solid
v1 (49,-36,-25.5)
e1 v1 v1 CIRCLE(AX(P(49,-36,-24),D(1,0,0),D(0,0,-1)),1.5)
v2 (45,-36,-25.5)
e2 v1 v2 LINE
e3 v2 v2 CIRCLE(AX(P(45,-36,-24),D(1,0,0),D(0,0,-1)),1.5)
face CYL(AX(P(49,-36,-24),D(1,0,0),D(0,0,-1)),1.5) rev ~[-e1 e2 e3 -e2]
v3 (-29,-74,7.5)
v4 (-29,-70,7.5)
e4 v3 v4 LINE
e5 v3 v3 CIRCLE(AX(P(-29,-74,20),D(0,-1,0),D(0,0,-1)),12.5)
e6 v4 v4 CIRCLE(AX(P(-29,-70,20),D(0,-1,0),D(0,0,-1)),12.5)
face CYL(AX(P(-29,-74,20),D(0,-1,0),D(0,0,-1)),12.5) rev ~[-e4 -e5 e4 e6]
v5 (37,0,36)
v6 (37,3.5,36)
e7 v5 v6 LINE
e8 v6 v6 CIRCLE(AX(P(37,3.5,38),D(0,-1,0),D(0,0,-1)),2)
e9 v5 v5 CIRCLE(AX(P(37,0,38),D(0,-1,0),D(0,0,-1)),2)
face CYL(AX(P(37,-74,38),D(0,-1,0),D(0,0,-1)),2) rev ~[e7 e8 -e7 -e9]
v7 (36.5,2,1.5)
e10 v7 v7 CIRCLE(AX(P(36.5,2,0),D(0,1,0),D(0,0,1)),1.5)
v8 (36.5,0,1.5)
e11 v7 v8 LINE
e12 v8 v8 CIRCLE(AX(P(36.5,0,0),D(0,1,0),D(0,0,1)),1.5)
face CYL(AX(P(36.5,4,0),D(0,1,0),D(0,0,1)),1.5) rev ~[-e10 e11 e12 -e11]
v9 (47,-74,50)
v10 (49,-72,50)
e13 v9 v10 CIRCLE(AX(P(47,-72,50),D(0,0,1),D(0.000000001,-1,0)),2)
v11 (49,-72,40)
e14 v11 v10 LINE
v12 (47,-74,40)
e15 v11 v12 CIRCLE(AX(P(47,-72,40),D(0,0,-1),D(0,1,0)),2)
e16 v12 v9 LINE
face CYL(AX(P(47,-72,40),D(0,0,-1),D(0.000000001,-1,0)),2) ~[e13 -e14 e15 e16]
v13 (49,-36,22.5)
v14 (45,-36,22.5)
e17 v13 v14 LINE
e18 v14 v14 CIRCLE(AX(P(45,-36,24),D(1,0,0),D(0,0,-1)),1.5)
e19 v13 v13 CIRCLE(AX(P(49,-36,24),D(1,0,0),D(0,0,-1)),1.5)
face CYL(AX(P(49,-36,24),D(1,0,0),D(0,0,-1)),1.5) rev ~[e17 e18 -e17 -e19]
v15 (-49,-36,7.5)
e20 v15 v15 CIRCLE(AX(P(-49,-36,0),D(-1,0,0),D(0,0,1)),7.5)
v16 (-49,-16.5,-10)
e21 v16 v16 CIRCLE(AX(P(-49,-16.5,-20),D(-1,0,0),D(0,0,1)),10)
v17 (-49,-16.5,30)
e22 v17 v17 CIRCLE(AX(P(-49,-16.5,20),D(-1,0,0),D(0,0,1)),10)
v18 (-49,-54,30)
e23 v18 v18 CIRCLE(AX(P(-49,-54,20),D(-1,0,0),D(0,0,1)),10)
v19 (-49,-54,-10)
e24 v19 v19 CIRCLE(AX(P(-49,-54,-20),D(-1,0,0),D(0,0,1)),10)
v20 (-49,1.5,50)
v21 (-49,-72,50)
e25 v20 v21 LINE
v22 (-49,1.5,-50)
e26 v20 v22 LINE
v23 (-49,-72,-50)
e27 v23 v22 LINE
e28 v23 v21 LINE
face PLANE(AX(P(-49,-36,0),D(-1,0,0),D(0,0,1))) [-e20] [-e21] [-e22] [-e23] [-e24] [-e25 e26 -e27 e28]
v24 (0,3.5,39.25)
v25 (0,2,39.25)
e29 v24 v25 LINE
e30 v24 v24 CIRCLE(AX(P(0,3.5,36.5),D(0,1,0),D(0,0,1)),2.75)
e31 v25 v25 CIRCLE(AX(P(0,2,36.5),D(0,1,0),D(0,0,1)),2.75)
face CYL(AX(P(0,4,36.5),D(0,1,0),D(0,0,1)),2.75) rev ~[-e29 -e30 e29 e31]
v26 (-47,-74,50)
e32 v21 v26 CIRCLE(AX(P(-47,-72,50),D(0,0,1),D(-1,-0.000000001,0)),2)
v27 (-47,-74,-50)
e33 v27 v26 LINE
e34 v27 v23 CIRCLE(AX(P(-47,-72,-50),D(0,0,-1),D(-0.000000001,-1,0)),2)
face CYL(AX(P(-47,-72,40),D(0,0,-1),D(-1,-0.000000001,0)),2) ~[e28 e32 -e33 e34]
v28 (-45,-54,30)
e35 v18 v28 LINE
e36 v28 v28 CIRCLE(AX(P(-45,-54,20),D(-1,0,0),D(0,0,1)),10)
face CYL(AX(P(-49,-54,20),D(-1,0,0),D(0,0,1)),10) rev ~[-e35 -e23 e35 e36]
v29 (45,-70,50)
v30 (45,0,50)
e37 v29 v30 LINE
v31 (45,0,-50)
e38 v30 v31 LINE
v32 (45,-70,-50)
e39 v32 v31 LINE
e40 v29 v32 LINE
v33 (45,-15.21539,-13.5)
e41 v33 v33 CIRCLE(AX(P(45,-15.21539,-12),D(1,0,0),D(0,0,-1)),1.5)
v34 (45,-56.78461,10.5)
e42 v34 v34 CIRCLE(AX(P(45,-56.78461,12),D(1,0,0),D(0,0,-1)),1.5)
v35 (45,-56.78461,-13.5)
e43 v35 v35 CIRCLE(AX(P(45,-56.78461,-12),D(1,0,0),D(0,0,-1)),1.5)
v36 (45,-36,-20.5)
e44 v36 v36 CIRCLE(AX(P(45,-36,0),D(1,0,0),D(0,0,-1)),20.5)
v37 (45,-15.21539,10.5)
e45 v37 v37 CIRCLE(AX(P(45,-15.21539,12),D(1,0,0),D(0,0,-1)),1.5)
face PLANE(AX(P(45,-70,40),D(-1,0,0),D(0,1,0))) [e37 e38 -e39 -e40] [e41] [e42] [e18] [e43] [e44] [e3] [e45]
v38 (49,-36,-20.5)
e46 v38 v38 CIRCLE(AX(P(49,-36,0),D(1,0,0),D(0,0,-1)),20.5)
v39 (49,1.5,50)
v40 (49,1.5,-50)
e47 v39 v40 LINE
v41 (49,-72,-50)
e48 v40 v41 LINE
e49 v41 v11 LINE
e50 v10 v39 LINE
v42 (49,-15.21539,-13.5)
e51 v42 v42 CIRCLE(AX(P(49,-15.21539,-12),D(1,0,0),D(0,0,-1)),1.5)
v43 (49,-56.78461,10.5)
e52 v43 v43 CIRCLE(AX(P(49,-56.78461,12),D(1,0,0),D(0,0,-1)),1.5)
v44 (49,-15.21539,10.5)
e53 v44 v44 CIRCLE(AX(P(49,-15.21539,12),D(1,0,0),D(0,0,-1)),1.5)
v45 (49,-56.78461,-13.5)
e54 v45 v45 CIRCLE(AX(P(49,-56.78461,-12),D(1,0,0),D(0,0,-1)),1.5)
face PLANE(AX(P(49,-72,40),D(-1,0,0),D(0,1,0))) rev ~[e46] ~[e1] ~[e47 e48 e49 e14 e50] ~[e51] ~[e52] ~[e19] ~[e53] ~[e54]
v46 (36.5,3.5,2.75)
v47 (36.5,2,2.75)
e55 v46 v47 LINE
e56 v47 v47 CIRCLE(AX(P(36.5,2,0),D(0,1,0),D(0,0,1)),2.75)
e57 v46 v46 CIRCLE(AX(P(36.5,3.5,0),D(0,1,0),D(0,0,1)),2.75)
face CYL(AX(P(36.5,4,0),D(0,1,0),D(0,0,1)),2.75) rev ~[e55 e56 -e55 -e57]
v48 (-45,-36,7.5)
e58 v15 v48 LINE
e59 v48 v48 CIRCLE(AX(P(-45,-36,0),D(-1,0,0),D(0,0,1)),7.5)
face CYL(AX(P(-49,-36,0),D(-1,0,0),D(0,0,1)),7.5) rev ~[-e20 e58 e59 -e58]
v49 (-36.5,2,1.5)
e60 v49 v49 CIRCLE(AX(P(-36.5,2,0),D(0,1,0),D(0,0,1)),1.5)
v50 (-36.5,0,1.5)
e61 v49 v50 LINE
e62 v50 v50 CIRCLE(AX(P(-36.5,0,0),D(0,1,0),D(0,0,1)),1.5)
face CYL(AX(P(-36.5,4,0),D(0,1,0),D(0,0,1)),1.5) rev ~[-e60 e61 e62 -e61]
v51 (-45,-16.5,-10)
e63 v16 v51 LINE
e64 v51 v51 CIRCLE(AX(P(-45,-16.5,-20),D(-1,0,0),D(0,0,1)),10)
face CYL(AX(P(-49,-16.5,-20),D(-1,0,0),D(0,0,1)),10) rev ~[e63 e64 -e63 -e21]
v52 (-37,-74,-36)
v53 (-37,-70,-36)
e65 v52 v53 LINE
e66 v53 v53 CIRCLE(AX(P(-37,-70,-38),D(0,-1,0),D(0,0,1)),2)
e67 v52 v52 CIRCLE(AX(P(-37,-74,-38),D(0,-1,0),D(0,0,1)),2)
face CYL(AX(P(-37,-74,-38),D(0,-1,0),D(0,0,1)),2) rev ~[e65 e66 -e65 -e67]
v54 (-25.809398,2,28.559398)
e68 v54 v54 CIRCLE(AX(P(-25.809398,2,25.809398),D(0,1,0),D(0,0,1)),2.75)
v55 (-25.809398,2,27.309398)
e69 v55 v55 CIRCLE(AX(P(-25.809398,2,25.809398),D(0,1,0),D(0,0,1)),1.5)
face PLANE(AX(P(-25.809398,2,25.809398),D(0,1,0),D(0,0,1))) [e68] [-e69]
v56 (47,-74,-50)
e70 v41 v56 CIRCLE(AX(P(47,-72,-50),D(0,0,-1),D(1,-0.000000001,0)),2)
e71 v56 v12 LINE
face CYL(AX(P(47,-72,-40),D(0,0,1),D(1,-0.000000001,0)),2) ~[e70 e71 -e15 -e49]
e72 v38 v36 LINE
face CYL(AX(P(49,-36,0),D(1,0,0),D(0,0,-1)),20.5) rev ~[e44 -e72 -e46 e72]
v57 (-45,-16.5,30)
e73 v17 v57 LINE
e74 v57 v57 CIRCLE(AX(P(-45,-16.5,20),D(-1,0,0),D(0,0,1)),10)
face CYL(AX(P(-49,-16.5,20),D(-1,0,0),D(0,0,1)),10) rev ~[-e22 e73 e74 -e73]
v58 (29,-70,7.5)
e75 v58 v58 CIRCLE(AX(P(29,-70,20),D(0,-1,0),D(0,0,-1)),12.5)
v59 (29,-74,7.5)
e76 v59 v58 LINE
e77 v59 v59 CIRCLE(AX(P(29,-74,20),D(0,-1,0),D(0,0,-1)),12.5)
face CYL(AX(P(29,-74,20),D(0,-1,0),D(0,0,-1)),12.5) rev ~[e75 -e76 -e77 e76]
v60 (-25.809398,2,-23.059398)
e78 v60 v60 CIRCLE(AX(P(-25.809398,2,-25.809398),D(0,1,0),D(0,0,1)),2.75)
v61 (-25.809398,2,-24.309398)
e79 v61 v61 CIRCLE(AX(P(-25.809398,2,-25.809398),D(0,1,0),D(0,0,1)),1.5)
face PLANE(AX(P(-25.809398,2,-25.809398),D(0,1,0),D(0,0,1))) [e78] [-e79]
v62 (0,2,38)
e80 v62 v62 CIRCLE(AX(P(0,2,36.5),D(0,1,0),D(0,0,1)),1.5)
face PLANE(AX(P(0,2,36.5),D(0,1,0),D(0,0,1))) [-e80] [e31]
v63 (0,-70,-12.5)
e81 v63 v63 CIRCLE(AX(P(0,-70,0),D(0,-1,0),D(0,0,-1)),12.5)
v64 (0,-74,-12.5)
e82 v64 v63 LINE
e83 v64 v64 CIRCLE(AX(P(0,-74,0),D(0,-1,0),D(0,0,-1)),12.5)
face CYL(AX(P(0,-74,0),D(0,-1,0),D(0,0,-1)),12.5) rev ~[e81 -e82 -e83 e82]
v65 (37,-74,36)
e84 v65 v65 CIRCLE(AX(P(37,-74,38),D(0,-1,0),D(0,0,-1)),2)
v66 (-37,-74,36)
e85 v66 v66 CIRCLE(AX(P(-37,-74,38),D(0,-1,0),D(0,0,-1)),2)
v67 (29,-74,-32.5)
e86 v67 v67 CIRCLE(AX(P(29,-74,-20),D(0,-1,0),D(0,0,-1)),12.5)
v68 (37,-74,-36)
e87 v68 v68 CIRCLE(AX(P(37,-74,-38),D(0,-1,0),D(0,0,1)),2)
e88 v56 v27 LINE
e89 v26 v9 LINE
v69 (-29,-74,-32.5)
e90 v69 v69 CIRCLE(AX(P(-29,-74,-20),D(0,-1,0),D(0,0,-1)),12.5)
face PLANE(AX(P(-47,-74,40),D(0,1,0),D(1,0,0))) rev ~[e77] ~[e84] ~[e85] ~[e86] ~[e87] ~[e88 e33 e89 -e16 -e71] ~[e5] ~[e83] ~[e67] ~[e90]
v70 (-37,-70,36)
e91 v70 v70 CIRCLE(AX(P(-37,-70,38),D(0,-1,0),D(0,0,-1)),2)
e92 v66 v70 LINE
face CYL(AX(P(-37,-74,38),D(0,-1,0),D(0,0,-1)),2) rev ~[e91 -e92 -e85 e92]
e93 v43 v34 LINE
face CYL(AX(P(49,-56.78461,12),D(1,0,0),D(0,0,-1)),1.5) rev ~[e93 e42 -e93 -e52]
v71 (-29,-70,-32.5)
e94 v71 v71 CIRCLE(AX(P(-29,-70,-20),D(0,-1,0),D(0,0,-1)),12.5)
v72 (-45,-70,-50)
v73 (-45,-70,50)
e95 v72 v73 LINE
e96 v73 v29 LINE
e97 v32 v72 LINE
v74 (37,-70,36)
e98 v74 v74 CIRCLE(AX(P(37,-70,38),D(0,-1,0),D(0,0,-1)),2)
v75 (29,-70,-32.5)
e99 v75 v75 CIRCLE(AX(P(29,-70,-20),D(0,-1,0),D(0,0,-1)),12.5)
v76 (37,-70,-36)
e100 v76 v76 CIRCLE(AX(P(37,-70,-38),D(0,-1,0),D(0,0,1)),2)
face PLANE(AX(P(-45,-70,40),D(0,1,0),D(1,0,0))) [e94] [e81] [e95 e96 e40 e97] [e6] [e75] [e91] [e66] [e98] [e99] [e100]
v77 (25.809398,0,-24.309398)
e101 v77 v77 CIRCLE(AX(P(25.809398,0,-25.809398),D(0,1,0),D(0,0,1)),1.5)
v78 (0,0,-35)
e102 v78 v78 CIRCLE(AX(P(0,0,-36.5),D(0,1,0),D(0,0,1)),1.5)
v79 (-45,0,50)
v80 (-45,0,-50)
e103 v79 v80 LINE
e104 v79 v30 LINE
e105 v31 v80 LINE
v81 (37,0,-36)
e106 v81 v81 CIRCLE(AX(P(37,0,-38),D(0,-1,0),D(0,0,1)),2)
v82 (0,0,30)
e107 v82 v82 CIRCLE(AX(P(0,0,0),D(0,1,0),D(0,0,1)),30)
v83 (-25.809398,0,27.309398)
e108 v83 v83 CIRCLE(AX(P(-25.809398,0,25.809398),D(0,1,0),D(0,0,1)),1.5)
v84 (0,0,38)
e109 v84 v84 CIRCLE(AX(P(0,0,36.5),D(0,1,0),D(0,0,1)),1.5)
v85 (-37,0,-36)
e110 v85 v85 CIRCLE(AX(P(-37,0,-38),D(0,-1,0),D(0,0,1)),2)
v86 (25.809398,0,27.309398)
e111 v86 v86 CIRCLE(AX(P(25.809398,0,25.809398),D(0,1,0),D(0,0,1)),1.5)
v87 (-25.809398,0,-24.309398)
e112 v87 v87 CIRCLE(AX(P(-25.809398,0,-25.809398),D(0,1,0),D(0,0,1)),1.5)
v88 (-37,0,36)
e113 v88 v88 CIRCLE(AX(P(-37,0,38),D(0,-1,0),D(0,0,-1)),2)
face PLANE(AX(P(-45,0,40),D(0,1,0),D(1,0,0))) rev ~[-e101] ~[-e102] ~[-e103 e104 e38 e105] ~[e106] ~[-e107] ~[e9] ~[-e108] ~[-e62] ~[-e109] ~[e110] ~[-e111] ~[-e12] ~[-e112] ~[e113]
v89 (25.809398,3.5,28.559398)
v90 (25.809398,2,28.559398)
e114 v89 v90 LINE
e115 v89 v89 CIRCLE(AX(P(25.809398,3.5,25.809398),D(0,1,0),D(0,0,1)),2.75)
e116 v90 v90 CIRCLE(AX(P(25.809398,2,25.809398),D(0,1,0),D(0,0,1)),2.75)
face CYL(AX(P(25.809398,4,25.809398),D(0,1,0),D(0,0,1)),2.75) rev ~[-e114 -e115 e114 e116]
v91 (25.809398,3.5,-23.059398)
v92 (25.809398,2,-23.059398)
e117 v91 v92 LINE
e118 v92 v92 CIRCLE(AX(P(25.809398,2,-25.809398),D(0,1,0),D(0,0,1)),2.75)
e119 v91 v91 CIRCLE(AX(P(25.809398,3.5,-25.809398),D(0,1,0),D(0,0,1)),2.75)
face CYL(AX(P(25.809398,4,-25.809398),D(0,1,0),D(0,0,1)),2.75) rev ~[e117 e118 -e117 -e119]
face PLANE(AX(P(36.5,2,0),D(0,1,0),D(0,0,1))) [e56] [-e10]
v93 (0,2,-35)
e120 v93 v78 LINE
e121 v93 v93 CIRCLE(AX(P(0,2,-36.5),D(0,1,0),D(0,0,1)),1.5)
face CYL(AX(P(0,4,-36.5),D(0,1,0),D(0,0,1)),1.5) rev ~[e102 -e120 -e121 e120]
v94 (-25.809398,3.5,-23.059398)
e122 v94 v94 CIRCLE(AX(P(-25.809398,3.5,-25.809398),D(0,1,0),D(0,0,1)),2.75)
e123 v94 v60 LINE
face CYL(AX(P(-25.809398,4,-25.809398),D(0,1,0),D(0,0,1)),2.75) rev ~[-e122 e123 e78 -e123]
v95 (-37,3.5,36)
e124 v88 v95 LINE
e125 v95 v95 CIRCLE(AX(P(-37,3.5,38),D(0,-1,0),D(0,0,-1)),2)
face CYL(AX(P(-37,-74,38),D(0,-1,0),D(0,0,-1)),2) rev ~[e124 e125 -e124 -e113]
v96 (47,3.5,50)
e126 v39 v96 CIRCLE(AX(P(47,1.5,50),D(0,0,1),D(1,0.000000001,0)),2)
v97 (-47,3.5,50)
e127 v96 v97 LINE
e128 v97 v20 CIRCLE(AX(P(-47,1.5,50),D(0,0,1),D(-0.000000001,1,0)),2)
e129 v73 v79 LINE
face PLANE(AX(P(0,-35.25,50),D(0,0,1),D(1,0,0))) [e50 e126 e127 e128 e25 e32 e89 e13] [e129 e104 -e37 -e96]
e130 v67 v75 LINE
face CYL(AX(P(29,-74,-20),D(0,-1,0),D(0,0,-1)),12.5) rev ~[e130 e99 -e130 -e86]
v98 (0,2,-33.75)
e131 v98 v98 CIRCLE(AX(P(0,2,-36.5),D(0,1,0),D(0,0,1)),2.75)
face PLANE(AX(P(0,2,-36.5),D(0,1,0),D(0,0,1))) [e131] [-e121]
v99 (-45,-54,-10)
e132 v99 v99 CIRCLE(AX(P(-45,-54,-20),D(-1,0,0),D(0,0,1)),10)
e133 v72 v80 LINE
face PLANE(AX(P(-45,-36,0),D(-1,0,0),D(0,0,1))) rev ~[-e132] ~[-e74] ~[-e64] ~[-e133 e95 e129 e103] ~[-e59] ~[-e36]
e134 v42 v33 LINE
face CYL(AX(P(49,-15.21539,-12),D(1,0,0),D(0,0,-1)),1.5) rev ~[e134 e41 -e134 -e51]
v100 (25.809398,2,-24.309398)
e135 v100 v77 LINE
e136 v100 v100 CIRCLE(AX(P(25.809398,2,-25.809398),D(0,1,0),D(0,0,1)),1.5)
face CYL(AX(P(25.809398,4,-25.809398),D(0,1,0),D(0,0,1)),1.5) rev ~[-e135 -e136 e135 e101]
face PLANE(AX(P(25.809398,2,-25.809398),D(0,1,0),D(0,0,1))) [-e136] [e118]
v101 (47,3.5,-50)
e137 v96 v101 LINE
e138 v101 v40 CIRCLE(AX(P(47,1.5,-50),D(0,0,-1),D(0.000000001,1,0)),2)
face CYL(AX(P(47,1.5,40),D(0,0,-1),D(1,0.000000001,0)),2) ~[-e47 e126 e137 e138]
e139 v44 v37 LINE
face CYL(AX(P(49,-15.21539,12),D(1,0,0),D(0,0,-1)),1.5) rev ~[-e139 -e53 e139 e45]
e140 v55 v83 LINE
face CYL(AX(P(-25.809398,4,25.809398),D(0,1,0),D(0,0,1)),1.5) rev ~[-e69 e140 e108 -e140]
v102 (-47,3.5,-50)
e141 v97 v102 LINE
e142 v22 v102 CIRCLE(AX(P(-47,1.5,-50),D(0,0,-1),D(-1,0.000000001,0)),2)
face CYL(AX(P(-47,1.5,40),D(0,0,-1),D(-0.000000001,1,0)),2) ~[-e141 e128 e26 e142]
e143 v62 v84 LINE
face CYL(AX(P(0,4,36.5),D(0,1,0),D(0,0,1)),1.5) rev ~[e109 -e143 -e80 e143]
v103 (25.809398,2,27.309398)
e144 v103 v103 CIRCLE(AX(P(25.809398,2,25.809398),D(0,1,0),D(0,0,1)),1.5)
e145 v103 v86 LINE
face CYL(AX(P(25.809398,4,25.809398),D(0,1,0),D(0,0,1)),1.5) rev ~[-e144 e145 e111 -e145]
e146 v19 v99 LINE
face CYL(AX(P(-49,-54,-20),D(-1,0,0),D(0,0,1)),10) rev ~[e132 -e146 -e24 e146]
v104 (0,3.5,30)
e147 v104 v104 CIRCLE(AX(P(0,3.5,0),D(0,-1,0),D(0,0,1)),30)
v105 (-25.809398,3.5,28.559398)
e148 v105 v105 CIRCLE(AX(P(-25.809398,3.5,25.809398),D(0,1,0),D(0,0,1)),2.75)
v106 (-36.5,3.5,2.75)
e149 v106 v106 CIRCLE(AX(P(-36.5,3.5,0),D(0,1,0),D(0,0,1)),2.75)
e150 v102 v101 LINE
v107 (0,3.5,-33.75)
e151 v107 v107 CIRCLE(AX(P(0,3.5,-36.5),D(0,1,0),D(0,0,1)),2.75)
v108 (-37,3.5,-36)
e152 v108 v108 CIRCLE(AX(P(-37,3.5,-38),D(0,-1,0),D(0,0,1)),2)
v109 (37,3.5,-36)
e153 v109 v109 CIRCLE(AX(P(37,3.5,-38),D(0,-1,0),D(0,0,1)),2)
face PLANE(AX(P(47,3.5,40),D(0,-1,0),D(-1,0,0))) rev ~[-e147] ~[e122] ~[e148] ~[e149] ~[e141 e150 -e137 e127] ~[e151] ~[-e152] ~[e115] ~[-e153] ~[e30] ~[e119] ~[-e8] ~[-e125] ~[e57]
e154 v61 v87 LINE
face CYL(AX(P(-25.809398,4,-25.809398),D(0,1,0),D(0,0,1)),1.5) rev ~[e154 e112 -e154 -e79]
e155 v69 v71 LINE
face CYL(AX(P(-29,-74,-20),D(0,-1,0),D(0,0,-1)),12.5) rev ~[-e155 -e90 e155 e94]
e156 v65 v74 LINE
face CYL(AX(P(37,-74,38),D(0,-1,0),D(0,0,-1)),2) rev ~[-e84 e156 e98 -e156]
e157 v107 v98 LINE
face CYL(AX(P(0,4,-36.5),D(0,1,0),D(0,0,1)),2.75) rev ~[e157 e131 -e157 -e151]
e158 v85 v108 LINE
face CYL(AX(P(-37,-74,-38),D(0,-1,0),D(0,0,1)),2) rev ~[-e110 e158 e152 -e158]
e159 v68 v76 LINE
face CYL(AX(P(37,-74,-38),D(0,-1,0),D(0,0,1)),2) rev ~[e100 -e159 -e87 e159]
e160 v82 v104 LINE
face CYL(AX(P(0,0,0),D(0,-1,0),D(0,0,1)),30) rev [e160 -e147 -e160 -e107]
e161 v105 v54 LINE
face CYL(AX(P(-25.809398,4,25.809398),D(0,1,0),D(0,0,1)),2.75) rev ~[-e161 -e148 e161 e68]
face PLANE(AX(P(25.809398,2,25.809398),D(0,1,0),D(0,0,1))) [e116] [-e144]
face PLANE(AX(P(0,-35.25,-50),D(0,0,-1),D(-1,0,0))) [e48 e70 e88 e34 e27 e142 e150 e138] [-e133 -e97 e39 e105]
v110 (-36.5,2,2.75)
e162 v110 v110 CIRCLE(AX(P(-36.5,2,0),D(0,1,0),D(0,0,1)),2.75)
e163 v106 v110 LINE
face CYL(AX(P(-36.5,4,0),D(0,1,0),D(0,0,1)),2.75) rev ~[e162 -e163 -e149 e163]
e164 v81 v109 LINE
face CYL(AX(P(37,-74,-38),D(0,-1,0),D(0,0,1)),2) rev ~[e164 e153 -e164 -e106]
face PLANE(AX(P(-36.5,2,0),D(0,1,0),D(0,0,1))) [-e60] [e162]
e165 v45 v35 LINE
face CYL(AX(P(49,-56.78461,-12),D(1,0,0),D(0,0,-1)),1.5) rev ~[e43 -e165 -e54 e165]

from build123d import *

# Parameters (mm, degrees)
SKETCH_1_W           = 90
SKETCH_1_H           = 80
SKETCH_1_R           = 30
EXTRUDE_1_DEPTH      = 4
SKETCH_2_R           = 1.5
CUT_EXTRUDE_1_DEPTH  = 4
SKETCH_3_W           = 80
SKETCH_3_H           = 80
EXTRUDE_2_DEPTH      = 4
SKETCH_4_W           = 80
SKETCH_4_H           = 80
EXTRUDE_3_DEPTH      = 4
SKETCH_5_R           = 1.5
CUT_EXTRUDE_2_DEPTH  = 4
SKETCH_6_R           = 20.5
CUT_EXTRUDE_3_DEPTH  = 4
SKETCH_8_W           = 98
SKETCH_8_H           = 80
EXTRUDE_4_DEPTH      = 4
SKETCH_9_R           = 8
CUT_EXTRUDE_5_DEPTH  = 4
SKETCH_10_R          = 2.75
CUT_EXTRUDE_6_DEPTH  = 2
SKETCH_11_W          = 106.087882822
SKETCH_11_H          = 86.695474134
CUT_EXTRUDE_7_DEPTH  = 2
SKETCH_12_W          = 90
SKETCH_12_H          = 80
EXTRUDE_5_DEPTH      = 2
SKETCH_13_W          = 115.80209227
SKETCH_13_H          = 95.07614962
CUT_EXTRUDE_8_DEPTH  = 0.5
SKETCH_14_R          = 12.5
CUT_EXTRUDE_9_DEPTH  = 4
FILLET_1_R           = 2
CUT_EXTRUDE_10_REACH = 131.151
SKETCH_15_R          = 10
SKETCH_16_W          = 90
SKETCH_16_H          = 70
EXTRUDE_6_DEPTH      = 10
SKETCH_17_W          = 90
SKETCH_17_H          = 70
EXTRUDE_7_DEPTH      = 10
SKETCH_19_R          = 2
CUT_EXTRUDE_12_DEPTH = 105.43778052
SKETCH_20_R          = 8
SKETCH_20_R_2        = 7.5
EXTRUDE_8_DEPTH      = 4


with BuildPart() as part:
    # 草图1 → 凸台-拉伸1 (new body)
    with BuildSketch(Plane(origin=(0, 0, 0), x_dir=(1, 0, 0), z_dir=(0, 1, 0))):
        Rectangle(SKETCH_1_W, SKETCH_1_H)
        with Locations(Location((0, 0, 0), (0, 0, 270))):
            Circle(SKETCH_1_R, mode=Mode.SUBTRACT)
    extrude(amount=EXTRUDE_1_DEPTH)

    # 草图2 → 切除-拉伸1 (cut)
    with BuildSketch(Plane(origin=(0, 4, 0), x_dir=(1, 0, 0), z_dir=(0, 1, 0))):
        with Locations(Location((0, 36.5, 0), (0, 0, 270))):
            Circle(SKETCH_2_R)
        with Locations(Location((25.809397513, 25.809397513, 0), (0, 0, 270))):
            Circle(SKETCH_2_R)
        with Locations(Location((36.5, 0, 0), (0, 0, 270))):
            Circle(SKETCH_2_R)
        with Locations(Location((25.809397513, -25.809397513, 0), (0, 0, 270))):
            Circle(SKETCH_2_R)
        with Locations(Location((0, -36.5, 0), (0, 0, 270))):
            Circle(SKETCH_2_R)
        with Locations(Location((-25.809397513, -25.809397513, 0), (0, 0, 270))):
            Circle(SKETCH_2_R)
        with Locations(Location((-36.5, 0, 0), (0, 0, 270))):
            Circle(SKETCH_2_R)
        with Locations(Location((-25.809397513, 25.809397513, 0), (0, 0, 270))):
            Circle(SKETCH_2_R)
    extrude(amount=-CUT_EXTRUDE_1_DEPTH, mode=Mode.SUBTRACT)

    # 草图3 → 凸台-拉伸2 (add)
    with BuildSketch(Plane(origin=(45, 0, 0), x_dir=(0, 0, -1), z_dir=(1, 0, 0))):
        with Locations((0, -36)):
            Rectangle(SKETCH_3_W, SKETCH_3_H)
    extrude(amount=EXTRUDE_2_DEPTH)

    # 草图4 → 凸台-拉伸3 (add)
    with BuildSketch(Plane.ZY.offset(45)):
        with Locations((0, -36)):
            Rectangle(SKETCH_4_W, SKETCH_4_H)
    extrude(amount=EXTRUDE_3_DEPTH)

    # 草图5 → 切除-拉伸2 (cut)
    with BuildSketch(Plane(origin=(49, 0, 0), x_dir=(0, 0, -1), z_dir=(1, 0, 0))):
        with Locations((-24, -36)):
            Circle(SKETCH_5_R)
        with Locations((-12, -15.215390309)):
            Circle(SKETCH_5_R)
        with Locations((12, -15.215390309)):
            Circle(SKETCH_5_R)
        with Locations((24, -36)):
            Circle(SKETCH_5_R)
        with Locations((12, -56.784609691)):
            Circle(SKETCH_5_R)
        with Locations((-12, -56.784609691)):
            Circle(SKETCH_5_R)
    extrude(amount=-CUT_EXTRUDE_2_DEPTH, mode=Mode.SUBTRACT)

    # 草图6 → 切除-拉伸3 (cut)
    with BuildSketch(Plane(origin=(49, 0, 0), x_dir=(0, 0, -1), z_dir=(1, 0, 0))):
        with Locations((0, -36)):
            Circle(SKETCH_6_R)
    extrude(amount=-CUT_EXTRUDE_3_DEPTH, mode=Mode.SUBTRACT)

    # 草图8 → 凸台-拉伸4 (add)
    with BuildSketch(Plane.XZ.offset(76)):
        Rectangle(SKETCH_8_W, SKETCH_8_H)
    extrude(amount=-EXTRUDE_4_DEPTH)

    # 草图9 → 切除-拉伸5 (cut)
    with BuildSketch(Plane.ZY.offset(49)):
        with Locations((0, -36)):
            Circle(SKETCH_9_R)
    extrude(amount=-CUT_EXTRUDE_5_DEPTH, mode=Mode.SUBTRACT)

    # 草图10 → 切除-拉伸6 (cut)
    with BuildSketch(Plane(origin=(0, 4, 0), x_dir=(1, 0, 0), z_dir=(0, 1, 0))):
        with Locations(Location((-25.809397513, 25.809397513, 0), (0, 0, 270))):
            Circle(SKETCH_10_R)
        with Locations(Location((0, 36.5, 0), (0, 0, 270))):
            Circle(SKETCH_10_R)
        with Locations(Location((25.809397513, 25.809397513, 0), (0, 0, 270))):
            Circle(SKETCH_10_R)
        with Locations(Location((36.5, 0, 0), (0, 0, 270))):
            Circle(SKETCH_10_R)
        with Locations(Location((25.809397513, -25.809397513, 0), (0, 0, 270))):
            Circle(SKETCH_10_R)
        with Locations(Location((0, -36.5, 0), (0, 0, 270))):
            Circle(SKETCH_10_R)
        with Locations(Location((-25.809397513, -25.809397513, 0), (0, 0, 270))):
            Circle(SKETCH_10_R)
        with Locations(Location((-36.5, 0, 0), (0, 0, 270))):
            Circle(SKETCH_10_R)
    extrude(amount=-CUT_EXTRUDE_6_DEPTH, mode=Mode.SUBTRACT)

    # 草图11 → 切除-拉伸7 (cut)
    with BuildSketch(Plane.XZ.offset(76)):
        with Locations((0.826302958, 0.912583938)):
            Rectangle(SKETCH_11_W, SKETCH_11_H)
    extrude(amount=-CUT_EXTRUDE_7_DEPTH, mode=Mode.SUBTRACT)

    # 草图12 → 凸台-拉伸5 (add)
    with BuildSketch(Plane(origin=(0, -72, 0), x_dir=(1, 0, 0), z_dir=(0, 1, 0))):
        Rectangle(SKETCH_12_W, SKETCH_12_H)
    extrude(amount=EXTRUDE_5_DEPTH)

    # 草图13 → 切除-拉伸8 (cut)
    with BuildSketch(Plane(origin=(0, 4, 0), x_dir=(1, 0, 0), z_dir=(0, 1, 0))):
        with Locations((-2.14666103, 3.125340558)):
            Rectangle(SKETCH_13_W, SKETCH_13_H)
    extrude(amount=-CUT_EXTRUDE_8_DEPTH, mode=Mode.SUBTRACT)

    # 草图14 → 切除-拉伸9 (cut)
    with BuildSketch(Plane.XZ.offset(74)):
        with Locations(Location((-29, 20, 0), (0, 0, 270))):
            Circle(SKETCH_14_R)
        with Locations(Location((29, 20, 0), (0, 0, 270))):
            Circle(SKETCH_14_R)
        with Locations(Location((0, 0, 0), (0, 0, 270))):
            Circle(SKETCH_14_R)
        with Locations(Location((-29, -20, 0), (0, 0, 270))):
            Circle(SKETCH_14_R)
        with Locations(Location((29, -20, 0), (0, 0, 270))):
            Circle(SKETCH_14_R)
    extrude(amount=-CUT_EXTRUDE_9_DEPTH, mode=Mode.SUBTRACT)

    # 圆角1
    fillet_1_edges = [part.edges().sort_by_distance(p)[0] for p in [
        (-49, -74, 0),
        (49, -74, 0),
        (49, 3.5, 0),
        (-49, 3.5, 0),
    ]]
    fillet(fillet_1_edges, radius=FILLET_1_R)

    # 草图15 → 切除-拉伸10 (cut, up to next)
    with BuildSketch(Plane.ZY.offset(49), mode=Mode.PRIVATE) as cut_extrude_10_sk1:
        with Locations((-20, -16.5)):
            Circle(SKETCH_15_R)
    cut_extrude_10_tool1 = extrude(cut_extrude_10_sk1.sketch, amount=-CUT_EXTRUDE_10_REACH, mode=Mode.PRIVATE) & part.part
    # 草图15 → 切除-拉伸10 (cut, up to next)
    with BuildSketch(Plane.ZY.offset(49), mode=Mode.PRIVATE) as cut_extrude_10_sk2:
        with Locations((20, -16.5)):
            Circle(SKETCH_15_R)
    cut_extrude_10_tool2 = extrude(cut_extrude_10_sk2.sketch, amount=-CUT_EXTRUDE_10_REACH, mode=Mode.PRIVATE) & part.part
    # 草图15 → 切除-拉伸10 (cut, up to next)
    with BuildSketch(Plane.ZY.offset(49), mode=Mode.PRIVATE) as cut_extrude_10_sk3:
        with Locations((20, -54)):
            Circle(SKETCH_15_R)
    cut_extrude_10_tool3 = extrude(cut_extrude_10_sk3.sketch, amount=-CUT_EXTRUDE_10_REACH, mode=Mode.PRIVATE) & part.part
    # 草图15 → 切除-拉伸10 (cut, up to next)
    with BuildSketch(Plane.ZY.offset(49), mode=Mode.PRIVATE) as cut_extrude_10_sk4:
        with Locations((-20, -54)):
            Circle(SKETCH_15_R)
    cut_extrude_10_tool4 = extrude(cut_extrude_10_sk4.sketch, amount=-CUT_EXTRUDE_10_REACH, mode=Mode.PRIVATE) & part.part
    add(cut_extrude_10_tool1.solids().sort_by_distance((-49, -16.5, -20))[0], mode=Mode.SUBTRACT)
    add(cut_extrude_10_tool2.solids().sort_by_distance((-49, -16.5, 20))[0], mode=Mode.SUBTRACT)
    add(cut_extrude_10_tool3.solids().sort_by_distance((-49, -54, 20))[0], mode=Mode.SUBTRACT)
    add(cut_extrude_10_tool4.solids().sort_by_distance((-49, -54, -20))[0], mode=Mode.SUBTRACT)

    # 草图16 → 凸台-拉伸6 (add)
    with BuildSketch(Plane(origin=(0, 0, -40), x_dir=(-1, 0, 0), z_dir=(0, 0, -1))):
        with BuildLine():
            Line((-47, -74), (47, -74))
            ThreePointArc((47, -74), (48.414213562, -73.414213562), (49, -72))
            Line((49, -72), (49, 1.5))
            ThreePointArc((49, 1.5), (48.414213562, 2.914213562), (47, 3.5))
            Line((47, 3.5), (-47, 3.5))
            ThreePointArc((-47, 3.5), (-48.414213562, 2.914213562), (-49, 1.5))
            Line((-49, 1.5), (-49, -72))
            ThreePointArc((-49, -72), (-48.414213562, -73.414213562), (-47, -74))
        make_face()
        with Locations((0, -35)):
            Rectangle(SKETCH_16_W, SKETCH_16_H, mode=Mode.SUBTRACT)
    extrude(amount=EXTRUDE_6_DEPTH)

    # 草图17 → 凸台-拉伸7 (add)
    with BuildSketch(Plane.XY.offset(40)):
        with BuildLine():
            Line((-49, 1.5), (-49, -72))
            ThreePointArc((-49, -72), (-48.414213562, -73.414213562), (-47, -74))
            Line((-47, -74), (47, -74))
            ThreePointArc((47, -74), (48.414213562, -73.414213562), (49, -72))
            Line((49, -72), (49, 1.5))
            ThreePointArc((49, 1.5), (48.414213562, 2.914213562), (47, 3.5))
            Line((47, 3.5), (-47, 3.5))
            ThreePointArc((-47, 3.5), (-48.414213562, 2.914213562), (-49, 1.5))
        make_face()
        with Locations((0, -35)):
            Rectangle(SKETCH_17_W, SKETCH_17_H, mode=Mode.SUBTRACT)
    extrude(amount=EXTRUDE_7_DEPTH)

    # 草图19 → 切除-拉伸12 (cut, through all)
    with BuildSketch(Plane.XZ.offset(74)):
        with Locations(Location((37, -38, 0), (0, 0, 90))):
            Circle(SKETCH_19_R)
        with Locations(Location((-37, 38, 0), (0, 0, 270))):
            Circle(SKETCH_19_R)
        with Locations(Location((37, 38, 0), (0, 0, 270))):
            Circle(SKETCH_19_R)
        with Locations(Location((-37, -38, 0), (0, 0, 90))):
            Circle(SKETCH_19_R)
    extrude(amount=-CUT_EXTRUDE_12_DEPTH, mode=Mode.SUBTRACT)

    # 草图20 → 凸台-拉伸8 (add)
    with BuildSketch(Plane.ZY.offset(49)):
        with Locations((0, -36)):
            Circle(SKETCH_20_R)
        with Locations((0, -36)):
            Circle(SKETCH_20_R_2, mode=Mode.SUBTRACT)
    extrude(amount=-EXTRUDE_8_DEPTH)


solid = part.part
